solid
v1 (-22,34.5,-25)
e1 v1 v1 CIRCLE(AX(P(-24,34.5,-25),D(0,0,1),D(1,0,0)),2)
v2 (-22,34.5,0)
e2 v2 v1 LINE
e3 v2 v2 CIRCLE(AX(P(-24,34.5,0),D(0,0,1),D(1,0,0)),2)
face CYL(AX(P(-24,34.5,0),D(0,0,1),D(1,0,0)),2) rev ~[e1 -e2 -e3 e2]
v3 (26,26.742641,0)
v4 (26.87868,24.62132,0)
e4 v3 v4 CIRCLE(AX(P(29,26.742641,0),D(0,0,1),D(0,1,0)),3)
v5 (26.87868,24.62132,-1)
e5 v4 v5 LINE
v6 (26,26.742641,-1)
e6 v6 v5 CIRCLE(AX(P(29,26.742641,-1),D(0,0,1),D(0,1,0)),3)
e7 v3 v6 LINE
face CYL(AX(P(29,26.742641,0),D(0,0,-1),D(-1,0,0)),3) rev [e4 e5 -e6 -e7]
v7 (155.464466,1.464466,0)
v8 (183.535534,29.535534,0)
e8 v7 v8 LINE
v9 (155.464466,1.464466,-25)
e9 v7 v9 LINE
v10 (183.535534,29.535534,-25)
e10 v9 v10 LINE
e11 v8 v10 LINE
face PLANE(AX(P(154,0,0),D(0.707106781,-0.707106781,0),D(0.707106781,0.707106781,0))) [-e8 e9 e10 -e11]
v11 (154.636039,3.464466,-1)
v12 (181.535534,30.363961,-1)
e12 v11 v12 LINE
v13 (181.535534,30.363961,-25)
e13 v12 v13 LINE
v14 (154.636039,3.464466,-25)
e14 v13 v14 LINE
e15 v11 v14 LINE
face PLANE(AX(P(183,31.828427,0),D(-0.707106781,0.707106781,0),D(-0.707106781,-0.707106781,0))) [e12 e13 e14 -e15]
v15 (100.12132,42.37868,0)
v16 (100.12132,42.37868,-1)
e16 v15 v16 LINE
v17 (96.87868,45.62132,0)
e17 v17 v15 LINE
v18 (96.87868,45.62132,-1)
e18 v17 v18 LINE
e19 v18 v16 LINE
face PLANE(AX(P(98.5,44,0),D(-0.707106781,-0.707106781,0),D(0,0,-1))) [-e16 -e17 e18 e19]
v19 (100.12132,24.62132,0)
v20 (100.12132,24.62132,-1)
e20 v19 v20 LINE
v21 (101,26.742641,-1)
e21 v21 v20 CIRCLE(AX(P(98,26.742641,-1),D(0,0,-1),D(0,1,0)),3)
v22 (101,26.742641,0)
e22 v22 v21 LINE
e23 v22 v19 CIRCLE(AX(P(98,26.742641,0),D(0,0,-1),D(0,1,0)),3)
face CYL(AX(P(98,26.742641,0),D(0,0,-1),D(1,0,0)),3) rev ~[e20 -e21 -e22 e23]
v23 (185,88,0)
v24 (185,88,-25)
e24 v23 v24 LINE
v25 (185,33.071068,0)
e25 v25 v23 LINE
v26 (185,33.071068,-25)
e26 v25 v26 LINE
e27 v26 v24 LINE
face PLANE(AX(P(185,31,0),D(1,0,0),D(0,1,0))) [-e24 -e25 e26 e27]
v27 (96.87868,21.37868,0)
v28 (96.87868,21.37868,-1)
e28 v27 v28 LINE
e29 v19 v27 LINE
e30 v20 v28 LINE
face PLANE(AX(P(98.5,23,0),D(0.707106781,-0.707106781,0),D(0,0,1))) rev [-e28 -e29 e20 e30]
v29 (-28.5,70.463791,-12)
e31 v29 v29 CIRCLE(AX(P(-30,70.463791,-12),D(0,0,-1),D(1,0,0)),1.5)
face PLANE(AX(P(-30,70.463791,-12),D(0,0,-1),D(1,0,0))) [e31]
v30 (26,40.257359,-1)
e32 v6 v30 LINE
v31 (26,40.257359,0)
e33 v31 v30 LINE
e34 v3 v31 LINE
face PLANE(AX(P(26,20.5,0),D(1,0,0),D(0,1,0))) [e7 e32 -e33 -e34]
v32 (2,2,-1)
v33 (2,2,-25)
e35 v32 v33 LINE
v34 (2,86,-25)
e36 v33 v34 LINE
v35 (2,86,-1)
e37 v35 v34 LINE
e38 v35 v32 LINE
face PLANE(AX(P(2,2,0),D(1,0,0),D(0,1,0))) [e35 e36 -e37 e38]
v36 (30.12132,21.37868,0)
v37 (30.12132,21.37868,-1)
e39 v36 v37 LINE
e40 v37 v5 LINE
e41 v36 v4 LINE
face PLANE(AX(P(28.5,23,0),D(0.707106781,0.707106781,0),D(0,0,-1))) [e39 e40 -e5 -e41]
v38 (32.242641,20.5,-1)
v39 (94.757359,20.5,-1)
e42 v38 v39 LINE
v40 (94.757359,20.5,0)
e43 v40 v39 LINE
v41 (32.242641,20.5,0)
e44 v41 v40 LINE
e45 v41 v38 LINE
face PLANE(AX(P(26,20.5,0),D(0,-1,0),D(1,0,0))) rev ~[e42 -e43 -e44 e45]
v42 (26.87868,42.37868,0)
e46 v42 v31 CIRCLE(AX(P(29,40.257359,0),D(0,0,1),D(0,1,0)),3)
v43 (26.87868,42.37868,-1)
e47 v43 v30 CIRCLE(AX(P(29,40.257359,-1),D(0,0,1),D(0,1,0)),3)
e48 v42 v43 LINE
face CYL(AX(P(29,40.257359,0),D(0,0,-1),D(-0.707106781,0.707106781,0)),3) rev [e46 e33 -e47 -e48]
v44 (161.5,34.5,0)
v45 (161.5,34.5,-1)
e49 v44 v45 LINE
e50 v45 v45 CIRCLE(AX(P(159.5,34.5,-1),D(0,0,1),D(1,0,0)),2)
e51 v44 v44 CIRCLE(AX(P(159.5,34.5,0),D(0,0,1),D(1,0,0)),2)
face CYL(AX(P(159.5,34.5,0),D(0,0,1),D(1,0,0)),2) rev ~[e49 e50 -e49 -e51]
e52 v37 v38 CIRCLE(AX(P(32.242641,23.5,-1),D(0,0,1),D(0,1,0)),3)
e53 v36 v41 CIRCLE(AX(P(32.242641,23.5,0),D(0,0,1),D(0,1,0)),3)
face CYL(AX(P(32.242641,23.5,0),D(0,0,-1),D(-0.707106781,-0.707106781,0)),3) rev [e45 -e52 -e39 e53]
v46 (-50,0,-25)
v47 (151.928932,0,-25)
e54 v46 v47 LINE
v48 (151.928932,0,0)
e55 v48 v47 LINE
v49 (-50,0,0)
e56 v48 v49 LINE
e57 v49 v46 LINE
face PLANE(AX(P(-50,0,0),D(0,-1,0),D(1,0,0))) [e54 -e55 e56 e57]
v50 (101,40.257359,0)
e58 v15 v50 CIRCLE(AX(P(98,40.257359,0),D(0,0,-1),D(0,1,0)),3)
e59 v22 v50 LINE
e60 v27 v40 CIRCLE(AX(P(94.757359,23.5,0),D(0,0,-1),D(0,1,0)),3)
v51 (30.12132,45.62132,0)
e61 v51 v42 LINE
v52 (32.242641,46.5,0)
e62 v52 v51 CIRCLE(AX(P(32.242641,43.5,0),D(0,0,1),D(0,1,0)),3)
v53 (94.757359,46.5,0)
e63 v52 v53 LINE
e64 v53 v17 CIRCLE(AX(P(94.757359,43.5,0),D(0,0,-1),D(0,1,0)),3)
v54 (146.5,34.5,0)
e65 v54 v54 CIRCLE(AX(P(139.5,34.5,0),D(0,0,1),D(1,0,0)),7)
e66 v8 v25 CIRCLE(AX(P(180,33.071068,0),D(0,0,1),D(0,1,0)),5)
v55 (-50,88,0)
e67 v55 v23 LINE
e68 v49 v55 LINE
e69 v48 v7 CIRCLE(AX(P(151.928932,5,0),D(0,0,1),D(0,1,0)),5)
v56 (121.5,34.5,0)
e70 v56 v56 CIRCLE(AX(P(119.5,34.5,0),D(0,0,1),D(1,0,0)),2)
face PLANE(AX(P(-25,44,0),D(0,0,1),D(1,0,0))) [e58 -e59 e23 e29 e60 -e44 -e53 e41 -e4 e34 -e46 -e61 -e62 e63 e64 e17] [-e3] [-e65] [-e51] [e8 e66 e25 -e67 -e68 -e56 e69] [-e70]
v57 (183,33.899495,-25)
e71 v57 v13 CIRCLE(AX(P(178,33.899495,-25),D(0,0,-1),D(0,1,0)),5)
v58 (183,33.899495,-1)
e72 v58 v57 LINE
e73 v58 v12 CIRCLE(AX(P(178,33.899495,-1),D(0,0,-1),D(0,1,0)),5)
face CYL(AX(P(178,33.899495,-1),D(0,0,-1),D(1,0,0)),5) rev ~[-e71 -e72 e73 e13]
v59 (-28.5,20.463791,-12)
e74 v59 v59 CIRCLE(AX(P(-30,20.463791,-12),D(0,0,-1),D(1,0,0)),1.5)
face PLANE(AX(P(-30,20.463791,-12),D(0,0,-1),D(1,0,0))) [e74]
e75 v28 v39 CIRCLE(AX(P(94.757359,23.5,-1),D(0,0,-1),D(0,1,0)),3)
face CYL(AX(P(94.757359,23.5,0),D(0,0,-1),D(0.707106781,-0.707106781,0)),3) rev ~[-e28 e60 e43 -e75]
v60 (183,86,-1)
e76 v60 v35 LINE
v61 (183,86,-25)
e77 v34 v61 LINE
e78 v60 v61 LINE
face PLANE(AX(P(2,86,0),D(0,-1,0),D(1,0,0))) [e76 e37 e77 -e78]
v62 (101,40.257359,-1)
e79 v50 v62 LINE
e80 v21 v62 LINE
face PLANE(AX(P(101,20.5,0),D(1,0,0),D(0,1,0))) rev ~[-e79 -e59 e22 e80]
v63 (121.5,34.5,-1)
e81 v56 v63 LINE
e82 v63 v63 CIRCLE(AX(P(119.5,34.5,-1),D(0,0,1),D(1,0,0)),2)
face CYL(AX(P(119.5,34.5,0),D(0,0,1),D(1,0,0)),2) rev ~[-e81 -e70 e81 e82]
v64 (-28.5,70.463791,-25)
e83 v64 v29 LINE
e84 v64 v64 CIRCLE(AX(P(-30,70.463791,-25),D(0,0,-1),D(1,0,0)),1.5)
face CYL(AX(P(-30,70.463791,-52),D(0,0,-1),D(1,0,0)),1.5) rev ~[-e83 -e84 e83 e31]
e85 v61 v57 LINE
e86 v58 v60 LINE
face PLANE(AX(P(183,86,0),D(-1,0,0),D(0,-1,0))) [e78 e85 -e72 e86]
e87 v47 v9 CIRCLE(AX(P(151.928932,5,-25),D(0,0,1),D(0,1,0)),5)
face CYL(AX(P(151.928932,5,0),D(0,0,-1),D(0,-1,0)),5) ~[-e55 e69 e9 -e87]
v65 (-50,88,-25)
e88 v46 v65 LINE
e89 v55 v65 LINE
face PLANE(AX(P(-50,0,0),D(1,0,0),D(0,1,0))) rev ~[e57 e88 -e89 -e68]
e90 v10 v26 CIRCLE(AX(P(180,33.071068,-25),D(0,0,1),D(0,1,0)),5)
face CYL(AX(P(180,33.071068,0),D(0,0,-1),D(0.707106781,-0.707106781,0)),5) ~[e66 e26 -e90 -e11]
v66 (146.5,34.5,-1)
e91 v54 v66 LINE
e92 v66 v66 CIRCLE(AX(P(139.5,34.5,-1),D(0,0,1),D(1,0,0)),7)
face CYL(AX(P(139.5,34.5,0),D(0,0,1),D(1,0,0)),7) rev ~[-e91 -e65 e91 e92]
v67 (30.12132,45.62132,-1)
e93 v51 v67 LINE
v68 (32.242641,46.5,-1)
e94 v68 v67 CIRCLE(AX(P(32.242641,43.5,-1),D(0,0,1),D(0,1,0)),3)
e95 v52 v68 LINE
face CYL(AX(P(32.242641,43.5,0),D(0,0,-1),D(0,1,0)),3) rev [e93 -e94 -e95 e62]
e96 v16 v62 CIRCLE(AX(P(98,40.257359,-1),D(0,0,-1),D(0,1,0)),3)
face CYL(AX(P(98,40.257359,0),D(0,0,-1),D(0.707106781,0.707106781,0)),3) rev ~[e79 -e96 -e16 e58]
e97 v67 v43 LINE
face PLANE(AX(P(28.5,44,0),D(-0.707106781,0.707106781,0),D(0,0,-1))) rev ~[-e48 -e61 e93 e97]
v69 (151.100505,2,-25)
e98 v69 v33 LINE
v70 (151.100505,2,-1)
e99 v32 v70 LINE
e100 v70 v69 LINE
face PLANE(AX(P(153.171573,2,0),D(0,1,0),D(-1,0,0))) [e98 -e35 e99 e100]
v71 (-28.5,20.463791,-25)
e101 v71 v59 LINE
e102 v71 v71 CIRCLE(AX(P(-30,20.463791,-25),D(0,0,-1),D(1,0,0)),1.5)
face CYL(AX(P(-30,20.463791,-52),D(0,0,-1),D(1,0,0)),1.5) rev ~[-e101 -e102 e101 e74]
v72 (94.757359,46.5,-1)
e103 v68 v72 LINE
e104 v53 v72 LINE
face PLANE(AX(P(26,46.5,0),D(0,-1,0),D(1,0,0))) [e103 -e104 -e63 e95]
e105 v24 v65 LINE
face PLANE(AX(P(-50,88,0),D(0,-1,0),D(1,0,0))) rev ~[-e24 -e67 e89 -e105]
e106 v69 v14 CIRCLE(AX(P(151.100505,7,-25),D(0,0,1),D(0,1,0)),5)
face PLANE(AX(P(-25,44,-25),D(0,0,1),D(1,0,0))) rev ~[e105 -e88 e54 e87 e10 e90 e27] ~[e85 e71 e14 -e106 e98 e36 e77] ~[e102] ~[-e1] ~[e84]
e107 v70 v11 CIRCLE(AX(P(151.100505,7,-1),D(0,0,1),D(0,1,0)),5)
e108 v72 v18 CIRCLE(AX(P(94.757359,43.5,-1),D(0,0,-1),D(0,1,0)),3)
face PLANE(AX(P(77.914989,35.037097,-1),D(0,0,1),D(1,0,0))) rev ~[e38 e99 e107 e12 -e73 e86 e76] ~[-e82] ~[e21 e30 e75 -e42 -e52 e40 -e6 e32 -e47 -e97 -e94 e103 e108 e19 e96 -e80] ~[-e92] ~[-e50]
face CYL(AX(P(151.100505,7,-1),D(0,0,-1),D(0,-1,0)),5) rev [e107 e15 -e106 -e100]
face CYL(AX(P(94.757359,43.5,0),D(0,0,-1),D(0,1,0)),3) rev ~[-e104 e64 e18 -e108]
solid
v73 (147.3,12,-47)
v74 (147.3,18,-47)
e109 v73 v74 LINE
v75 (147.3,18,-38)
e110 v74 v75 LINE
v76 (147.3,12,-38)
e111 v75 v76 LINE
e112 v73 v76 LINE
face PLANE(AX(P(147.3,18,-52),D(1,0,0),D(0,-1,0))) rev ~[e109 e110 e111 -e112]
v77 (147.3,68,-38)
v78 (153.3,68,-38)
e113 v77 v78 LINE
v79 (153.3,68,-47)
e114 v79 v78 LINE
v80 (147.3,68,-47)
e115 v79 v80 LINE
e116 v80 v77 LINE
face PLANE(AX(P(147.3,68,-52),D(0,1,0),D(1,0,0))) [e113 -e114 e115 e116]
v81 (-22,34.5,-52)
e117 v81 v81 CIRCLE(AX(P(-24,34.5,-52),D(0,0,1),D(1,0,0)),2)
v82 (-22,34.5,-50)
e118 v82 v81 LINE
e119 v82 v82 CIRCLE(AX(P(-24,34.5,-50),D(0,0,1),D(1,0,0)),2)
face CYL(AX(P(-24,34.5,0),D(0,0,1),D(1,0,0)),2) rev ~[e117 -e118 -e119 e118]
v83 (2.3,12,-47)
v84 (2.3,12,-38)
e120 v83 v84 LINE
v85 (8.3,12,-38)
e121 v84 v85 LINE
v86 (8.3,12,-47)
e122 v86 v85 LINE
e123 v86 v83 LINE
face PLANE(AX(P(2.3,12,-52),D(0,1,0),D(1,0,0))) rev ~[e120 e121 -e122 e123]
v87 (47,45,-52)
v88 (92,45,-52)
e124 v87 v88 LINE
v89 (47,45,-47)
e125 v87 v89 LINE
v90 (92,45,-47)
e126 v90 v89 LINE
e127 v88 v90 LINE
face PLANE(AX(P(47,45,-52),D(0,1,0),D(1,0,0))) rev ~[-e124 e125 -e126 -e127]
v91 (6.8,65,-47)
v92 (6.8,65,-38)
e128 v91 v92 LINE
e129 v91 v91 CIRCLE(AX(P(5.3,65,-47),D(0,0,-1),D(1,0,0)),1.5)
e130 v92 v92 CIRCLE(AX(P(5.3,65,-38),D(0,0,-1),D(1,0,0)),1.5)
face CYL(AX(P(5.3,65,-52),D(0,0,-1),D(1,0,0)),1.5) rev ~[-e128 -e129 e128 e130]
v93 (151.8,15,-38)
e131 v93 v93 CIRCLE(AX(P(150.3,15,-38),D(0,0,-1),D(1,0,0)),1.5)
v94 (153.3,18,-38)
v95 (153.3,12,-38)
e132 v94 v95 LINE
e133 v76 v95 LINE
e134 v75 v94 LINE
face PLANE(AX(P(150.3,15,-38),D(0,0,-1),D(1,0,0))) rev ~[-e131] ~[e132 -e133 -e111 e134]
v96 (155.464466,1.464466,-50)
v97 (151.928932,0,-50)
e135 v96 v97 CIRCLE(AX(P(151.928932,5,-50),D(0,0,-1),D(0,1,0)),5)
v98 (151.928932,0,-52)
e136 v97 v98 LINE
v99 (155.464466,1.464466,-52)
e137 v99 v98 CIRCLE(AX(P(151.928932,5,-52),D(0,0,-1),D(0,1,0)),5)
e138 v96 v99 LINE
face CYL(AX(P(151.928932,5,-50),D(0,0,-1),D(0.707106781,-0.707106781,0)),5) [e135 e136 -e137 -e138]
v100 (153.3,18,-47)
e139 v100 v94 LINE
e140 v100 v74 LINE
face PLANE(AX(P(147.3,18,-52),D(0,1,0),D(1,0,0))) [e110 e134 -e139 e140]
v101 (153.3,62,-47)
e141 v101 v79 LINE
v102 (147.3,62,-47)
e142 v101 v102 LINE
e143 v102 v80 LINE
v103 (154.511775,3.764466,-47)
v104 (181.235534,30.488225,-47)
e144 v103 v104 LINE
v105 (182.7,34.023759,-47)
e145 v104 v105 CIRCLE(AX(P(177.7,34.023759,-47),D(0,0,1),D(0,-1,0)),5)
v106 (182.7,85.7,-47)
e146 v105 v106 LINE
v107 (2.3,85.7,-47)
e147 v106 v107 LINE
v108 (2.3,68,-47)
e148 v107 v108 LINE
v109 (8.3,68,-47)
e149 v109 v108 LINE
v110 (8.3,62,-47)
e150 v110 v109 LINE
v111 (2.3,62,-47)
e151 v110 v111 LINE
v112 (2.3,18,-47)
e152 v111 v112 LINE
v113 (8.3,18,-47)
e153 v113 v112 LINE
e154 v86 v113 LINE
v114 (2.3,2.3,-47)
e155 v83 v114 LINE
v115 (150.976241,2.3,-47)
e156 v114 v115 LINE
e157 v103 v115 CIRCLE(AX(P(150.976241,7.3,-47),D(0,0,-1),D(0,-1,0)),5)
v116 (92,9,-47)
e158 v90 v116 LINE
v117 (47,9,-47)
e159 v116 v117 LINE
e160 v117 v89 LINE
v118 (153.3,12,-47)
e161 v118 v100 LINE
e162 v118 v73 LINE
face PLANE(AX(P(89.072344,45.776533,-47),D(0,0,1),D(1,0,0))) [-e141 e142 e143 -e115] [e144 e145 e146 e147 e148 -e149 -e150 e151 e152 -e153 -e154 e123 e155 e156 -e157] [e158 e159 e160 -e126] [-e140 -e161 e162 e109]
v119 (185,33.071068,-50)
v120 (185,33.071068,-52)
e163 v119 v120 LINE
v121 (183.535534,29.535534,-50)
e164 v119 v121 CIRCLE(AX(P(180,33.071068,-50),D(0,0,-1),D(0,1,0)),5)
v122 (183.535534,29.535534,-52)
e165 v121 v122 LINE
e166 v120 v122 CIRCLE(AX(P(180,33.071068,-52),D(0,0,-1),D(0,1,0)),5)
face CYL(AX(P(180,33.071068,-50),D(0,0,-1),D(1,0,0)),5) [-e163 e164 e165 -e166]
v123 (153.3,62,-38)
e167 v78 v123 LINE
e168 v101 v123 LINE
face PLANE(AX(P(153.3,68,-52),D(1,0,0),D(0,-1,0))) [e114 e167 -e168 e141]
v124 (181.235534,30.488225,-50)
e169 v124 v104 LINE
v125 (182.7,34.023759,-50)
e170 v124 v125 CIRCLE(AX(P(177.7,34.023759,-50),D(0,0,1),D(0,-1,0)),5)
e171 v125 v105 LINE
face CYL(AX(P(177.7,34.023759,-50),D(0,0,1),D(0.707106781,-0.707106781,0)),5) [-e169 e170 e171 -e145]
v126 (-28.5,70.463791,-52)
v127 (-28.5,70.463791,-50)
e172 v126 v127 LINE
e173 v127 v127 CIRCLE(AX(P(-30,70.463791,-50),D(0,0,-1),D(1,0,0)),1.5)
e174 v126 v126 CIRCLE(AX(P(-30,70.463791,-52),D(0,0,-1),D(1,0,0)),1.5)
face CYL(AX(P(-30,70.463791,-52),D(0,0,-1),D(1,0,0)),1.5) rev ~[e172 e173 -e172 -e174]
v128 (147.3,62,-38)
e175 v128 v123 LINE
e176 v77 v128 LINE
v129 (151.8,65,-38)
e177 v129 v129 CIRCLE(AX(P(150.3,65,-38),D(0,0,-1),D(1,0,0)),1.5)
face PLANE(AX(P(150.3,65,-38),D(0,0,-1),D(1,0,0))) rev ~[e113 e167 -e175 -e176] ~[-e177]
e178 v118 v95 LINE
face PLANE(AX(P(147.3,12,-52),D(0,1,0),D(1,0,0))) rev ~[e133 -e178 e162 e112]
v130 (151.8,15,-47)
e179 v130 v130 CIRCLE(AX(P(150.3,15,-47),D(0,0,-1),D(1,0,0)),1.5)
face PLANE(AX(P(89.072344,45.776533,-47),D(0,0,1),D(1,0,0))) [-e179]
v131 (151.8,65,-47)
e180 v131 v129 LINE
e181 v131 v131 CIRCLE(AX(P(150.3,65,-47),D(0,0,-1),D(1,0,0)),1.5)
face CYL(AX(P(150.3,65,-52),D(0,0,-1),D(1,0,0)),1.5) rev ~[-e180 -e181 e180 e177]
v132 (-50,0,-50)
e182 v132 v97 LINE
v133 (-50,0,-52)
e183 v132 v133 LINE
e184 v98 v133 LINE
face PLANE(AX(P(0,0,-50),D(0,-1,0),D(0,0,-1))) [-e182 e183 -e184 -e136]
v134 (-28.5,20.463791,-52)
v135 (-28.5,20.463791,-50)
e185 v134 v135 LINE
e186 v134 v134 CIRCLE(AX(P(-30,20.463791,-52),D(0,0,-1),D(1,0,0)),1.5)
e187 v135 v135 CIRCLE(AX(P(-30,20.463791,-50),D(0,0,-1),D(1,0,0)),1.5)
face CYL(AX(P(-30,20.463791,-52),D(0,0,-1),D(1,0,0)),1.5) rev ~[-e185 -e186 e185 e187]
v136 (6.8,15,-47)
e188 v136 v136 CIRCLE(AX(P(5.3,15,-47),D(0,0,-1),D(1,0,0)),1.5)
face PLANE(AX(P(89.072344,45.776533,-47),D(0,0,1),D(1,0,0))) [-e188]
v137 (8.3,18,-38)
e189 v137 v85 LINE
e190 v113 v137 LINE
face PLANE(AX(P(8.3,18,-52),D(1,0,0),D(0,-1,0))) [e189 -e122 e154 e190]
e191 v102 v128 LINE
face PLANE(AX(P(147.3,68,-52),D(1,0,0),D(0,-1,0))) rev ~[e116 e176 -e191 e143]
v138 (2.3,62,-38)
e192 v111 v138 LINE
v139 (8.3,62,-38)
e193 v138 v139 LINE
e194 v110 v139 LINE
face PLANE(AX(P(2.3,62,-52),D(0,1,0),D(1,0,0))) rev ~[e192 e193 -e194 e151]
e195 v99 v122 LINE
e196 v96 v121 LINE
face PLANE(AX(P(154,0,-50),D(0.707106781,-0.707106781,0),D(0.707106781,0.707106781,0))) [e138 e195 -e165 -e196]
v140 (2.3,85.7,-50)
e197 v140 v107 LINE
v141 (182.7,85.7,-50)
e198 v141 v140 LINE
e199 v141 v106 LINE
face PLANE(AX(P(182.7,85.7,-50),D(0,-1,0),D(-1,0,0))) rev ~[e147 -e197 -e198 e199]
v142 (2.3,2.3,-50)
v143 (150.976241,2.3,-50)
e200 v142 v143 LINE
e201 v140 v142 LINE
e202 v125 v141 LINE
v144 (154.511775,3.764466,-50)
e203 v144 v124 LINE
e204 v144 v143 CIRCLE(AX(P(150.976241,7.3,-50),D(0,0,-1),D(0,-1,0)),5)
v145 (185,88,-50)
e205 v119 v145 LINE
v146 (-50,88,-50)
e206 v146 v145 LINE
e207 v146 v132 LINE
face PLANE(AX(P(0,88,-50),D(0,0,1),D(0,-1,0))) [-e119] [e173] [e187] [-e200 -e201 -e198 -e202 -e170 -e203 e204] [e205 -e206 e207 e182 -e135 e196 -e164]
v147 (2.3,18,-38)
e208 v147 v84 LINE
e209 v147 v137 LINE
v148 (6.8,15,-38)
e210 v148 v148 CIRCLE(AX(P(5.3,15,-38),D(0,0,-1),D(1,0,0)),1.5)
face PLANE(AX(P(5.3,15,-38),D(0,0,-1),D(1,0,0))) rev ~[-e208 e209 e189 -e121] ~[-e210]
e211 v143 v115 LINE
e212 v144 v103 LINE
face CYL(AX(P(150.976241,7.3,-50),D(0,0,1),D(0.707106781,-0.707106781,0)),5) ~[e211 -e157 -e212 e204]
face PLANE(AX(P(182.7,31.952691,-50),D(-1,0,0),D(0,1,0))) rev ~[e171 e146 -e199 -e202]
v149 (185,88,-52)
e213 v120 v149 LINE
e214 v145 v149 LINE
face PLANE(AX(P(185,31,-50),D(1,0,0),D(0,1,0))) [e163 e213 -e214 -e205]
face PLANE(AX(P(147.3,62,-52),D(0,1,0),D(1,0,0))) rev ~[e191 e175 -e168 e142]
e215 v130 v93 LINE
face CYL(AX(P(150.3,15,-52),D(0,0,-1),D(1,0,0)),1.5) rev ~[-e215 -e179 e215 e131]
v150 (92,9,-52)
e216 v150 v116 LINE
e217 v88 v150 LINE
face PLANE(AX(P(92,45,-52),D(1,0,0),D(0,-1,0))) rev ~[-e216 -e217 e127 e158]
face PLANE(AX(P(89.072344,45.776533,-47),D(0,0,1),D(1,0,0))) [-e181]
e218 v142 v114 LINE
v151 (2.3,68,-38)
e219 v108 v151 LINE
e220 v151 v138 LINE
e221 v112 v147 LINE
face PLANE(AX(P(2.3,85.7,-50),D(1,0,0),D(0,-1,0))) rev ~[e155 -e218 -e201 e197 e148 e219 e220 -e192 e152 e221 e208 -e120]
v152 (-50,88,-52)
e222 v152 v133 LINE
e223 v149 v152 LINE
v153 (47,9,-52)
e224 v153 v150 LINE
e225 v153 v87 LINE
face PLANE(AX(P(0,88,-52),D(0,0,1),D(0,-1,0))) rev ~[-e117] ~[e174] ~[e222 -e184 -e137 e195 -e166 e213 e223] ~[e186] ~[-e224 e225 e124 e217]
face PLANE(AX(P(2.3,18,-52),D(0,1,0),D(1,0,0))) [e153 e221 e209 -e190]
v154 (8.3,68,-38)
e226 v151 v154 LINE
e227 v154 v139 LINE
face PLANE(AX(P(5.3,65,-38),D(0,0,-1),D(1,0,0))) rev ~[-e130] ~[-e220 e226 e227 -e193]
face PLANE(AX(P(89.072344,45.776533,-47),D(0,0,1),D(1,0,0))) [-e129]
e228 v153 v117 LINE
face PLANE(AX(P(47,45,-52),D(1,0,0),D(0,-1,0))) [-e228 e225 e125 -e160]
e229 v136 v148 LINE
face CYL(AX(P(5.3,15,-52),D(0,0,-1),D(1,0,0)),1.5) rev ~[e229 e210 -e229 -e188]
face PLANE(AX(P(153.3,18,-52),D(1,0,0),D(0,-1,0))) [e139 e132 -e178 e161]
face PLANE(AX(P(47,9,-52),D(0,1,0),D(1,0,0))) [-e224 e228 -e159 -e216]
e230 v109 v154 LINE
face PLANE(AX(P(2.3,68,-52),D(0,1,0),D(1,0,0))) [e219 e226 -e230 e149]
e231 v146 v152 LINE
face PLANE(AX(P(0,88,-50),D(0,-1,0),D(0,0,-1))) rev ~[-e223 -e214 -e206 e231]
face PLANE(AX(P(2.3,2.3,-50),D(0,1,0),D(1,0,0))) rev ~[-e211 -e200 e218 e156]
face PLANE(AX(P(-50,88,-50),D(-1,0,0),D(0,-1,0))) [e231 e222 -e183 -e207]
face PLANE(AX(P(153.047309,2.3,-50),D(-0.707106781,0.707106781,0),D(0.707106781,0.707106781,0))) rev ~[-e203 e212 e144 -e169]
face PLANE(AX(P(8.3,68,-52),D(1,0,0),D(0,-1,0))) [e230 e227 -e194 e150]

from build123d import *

# Parameters (mm, degrees)
F0_W      = 75
F0_H      = 26
F0_R      = 2
F0_R_2    = 7
F1_DEPTH  = 1
F2_DEPTH  = 25
F3_R      = 5
F4_SIZE   = 5
F5_R      = 3
F6_W      = 50
F6_H      = 88
F7_DEPTH  = 25
F10_DEPTH = 3
F11_DEPTH = 2
F12_DEPTH = 50
F13_R     = 5
F14_W     = 45
F14_H     = 11
F15_DEPTH = 25
F14_W_2   = 6
F14_H_2   = 6
F14_R     = 1.5
F16_DEPTH = 14
F17_R     = 1.5
F18_DEPTH = 40
F19_DEPTH = 25
F20_R     = 2
F21_DEPTH = 93.4


with BuildPart() as f1:
    # F0 (on Top) → F1 (new body)
    with BuildSketch(Plane.XY):
        Polygon((154, 68), (2, 68), (2, 2), (153.1715728753, 2), (154, 2.8284271247), align=None)
        with Locations((63.5, 33.5)):
            Rectangle(F0_W, F0_H, mode=Mode.SUBTRACT)
        with Locations((119.5, 34.5)):
            Circle(F0_R, mode=Mode.SUBTRACT)
        with Locations((139.5, 34.5)):
            Circle(F0_R_2, mode=Mode.SUBTRACT)
        Polygon((183, 68), (154, 68), (154, 2.8284271247), (183, 31.8284271247), align=None)
        with Locations((159.5, 34.5)):
            Circle(F0_R, mode=Mode.SUBTRACT)
        Polygon((2, 86), (2, 68), (154, 68), (183, 68), (183, 86), align=None)
    extrude(amount=-F1_DEPTH)

    # F0 (on Top) → F2 (join)
    with BuildSketch(Plane.XY):
        Polygon((0, 68), (0, 0), (154, 0), (185, 31), (185, 88), (0, 88), align=None)
        Polygon((2, 2), (2, 68), (2, 86), (183, 86), (183, 68), (183, 31.8284271247), (154, 2.8284271247), (153.1715728753, 2), align=None, mode=Mode.SUBTRACT)
    extrude(amount=-F2_DEPTH)

    # F3
    f3_edges = [f1.edges().sort_by_distance(p)[0] for p in [
        (154, 0, -12.5),
        (185, 31, -12.5),
        (153.171573, 2, -13),
        (183, 31.828427, -13),
    ]]
    fillet(f3_edges, radius=F3_R)

    # F4
    f4_edges = [f1.edges().sort_by_distance(p)[0] for p in [
        (26, 46.5, -0.5),
        (26, 20.5, -0.5),
        (101, 20.5, -0.5),
        (101, 46.5, -0.5),
    ]]
    chamfer(f4_edges, length=F4_SIZE)

    # F5
    f5_edges = [f1.edges().sort_by_distance(p)[0] for p in [
        (26, 41.5, -0.5),
        (31, 46.5, -0.5),
        (26, 25.5, -0.5),
        (31, 20.5, -0.5),
        (96, 46.5, -0.5),
        (101, 41.5, -0.5),
        (101, 25.5, -0.5),
        (96, 20.5, -0.5),
    ]]
    fillet(f5_edges, radius=F5_R)

    # F6 (on Top) → F7 (join)
    with BuildSketch(Plane.XY):
        with Locations((-25, 44)):
            Rectangle(F6_W, F6_H)
    extrude(amount=-F7_DEPTH)


with BuildPart() as f10:
    # F9 (on offset) → F10 (new body)
    with BuildSketch(Plane.XY.offset(-50)):
        Polygon((2.3, 85.7), (2.3, 2.3), (153.0473088065, 2.3), (182.7, 31.9526911935), (182.7, 85.7), align=None)
    extrude(amount=F10_DEPTH)

    # F9 (on offset) + F10_face (on face) → F11 (join)
    with BuildSketch(Plane.XY.offset(-50)):
        Polygon((0, 88), (0, 0), (154, 0), (185, 31), (185, 88), align=None)
        Polygon((153.0473088065, 2.3), (2.3, 2.3), (2.3, 85.7), (182.7, 85.7), (182.7, 31.9526911935), align=None, mode=Mode.SUBTRACT)
    with BuildSketch(Plane(origin=(90.0824463558, 44.9576740673, -50), x_dir=(1, 0, 0), z_dir=(0, 0, -1))):
        Polygon((92.6175536442, -40.7423259327), (92.6175536442, 13.0049828738), (62.9648624507, 42.6576740673), (-87.7824463558, 42.6576740673), (-87.7824463558, -40.7423259327), align=None)
    extrude(amount=-F11_DEPTH, dir=(0, 0, 1))

    # F12 (add): a face of the model
    f12_faces = [f10.faces().sort_by_distance(p)[0] for p in [
        (0, 44, -51),
    ]]
    extrude(f12_faces, amount=F12_DEPTH)

    # F13
    f13_edges = [f10.edges().sort_by_distance(p)[0] for p in [
        (153.047309, 2.3, -48.5),
        (154, 0, -51),
        (182.7, 31.952691, -48.5),
        (185, 31, -51),
    ]]
    fillet(f13_edges, radius=F13_R)

    # F14 (on face) → F15 (cut)
    with BuildSketch(Plane(origin=(0, 0, -52), x_dir=(1, 0, 0), z_dir=(0, 0, -1))):
        with Locations((69.5, -39.5)):
            Rectangle(F14_W, F14_H)
    extrude(amount=-F15_DEPTH, mode=Mode.SUBTRACT)

    # F14 (on face) → F16 (join)
    with BuildSketch(Plane(origin=(0, 0, -52), x_dir=(1, 0, 0), z_dir=(0, 0, -1))):
        with Locations((5.3, -65)):
            Rectangle(F14_W_2, F14_H_2)
        with Locations((5.3, -65)):
            Circle(F14_R, mode=Mode.SUBTRACT)
        with Locations((150.3, -65)):
            Rectangle(F14_W_2, F14_H_2)
        with Locations((150.3, -65)):
            Circle(F14_R, mode=Mode.SUBTRACT)
        with Locations((150.3, -15)):
            Rectangle(F14_W_2, F14_H_2)
        with Locations((150.3, -15)):
            Circle(F14_R, mode=Mode.SUBTRACT)
        with Locations((5.3, -15)):
            Rectangle(F14_W_2, F14_H_2)
        with Locations((5.3, -15)):
            Circle(F14_R, mode=Mode.SUBTRACT)
    extrude(amount=-F16_DEPTH)


with BuildPart() as f18_tool:
    # F17 (on face) → F18 (new body)
    with BuildSketch(Plane(origin=(0, 0, -52), x_dir=(1, 0, 0), z_dir=(0, 0, -1))):
        with Locations((-30, -20.4637907416)):
            Circle(F17_R)
        with Locations((-30, -70.4637907416)):
            Circle(F17_R)
    extrude(amount=-F18_DEPTH)


with BuildPart() as f1_1:
    add(f1.part)

    # F18: cut by f18_tool
    add(f18_tool.part, mode=Mode.SUBTRACT)


with BuildPart() as f10_1:
    add(f10.part)

    # F18: cut by f18_tool
    add(f18_tool.part, mode=Mode.SUBTRACT)

    # F19 (cut): a face of the model
    f19_faces = [f10_1.faces().sort_by_distance(p)[0] for p in [
        (69.5, 34, -49.5),
    ]]
    extrude(f19_faces, amount=-F19_DEPTH, mode=Mode.SUBTRACT)


with BuildPart() as f21_tool:
    # F20 (on face) → F21 (new body)
    with BuildSketch(Plane.XY):
        with Locations((-24, 34.5)):
            Circle(F20_R)
    extrude(amount=-F21_DEPTH)


with BuildPart() as f1_2:
    add(f1_1.part)

    # F21: cut by f21_tool
    add(f21_tool.part, mode=Mode.SUBTRACT)


with BuildPart() as f10_2:
    add(f10_1.part)

    # F21: cut by f21_tool
    add(f21_tool.part, mode=Mode.SUBTRACT)


solid = Compound([f1_2.part, f10_2.part])
